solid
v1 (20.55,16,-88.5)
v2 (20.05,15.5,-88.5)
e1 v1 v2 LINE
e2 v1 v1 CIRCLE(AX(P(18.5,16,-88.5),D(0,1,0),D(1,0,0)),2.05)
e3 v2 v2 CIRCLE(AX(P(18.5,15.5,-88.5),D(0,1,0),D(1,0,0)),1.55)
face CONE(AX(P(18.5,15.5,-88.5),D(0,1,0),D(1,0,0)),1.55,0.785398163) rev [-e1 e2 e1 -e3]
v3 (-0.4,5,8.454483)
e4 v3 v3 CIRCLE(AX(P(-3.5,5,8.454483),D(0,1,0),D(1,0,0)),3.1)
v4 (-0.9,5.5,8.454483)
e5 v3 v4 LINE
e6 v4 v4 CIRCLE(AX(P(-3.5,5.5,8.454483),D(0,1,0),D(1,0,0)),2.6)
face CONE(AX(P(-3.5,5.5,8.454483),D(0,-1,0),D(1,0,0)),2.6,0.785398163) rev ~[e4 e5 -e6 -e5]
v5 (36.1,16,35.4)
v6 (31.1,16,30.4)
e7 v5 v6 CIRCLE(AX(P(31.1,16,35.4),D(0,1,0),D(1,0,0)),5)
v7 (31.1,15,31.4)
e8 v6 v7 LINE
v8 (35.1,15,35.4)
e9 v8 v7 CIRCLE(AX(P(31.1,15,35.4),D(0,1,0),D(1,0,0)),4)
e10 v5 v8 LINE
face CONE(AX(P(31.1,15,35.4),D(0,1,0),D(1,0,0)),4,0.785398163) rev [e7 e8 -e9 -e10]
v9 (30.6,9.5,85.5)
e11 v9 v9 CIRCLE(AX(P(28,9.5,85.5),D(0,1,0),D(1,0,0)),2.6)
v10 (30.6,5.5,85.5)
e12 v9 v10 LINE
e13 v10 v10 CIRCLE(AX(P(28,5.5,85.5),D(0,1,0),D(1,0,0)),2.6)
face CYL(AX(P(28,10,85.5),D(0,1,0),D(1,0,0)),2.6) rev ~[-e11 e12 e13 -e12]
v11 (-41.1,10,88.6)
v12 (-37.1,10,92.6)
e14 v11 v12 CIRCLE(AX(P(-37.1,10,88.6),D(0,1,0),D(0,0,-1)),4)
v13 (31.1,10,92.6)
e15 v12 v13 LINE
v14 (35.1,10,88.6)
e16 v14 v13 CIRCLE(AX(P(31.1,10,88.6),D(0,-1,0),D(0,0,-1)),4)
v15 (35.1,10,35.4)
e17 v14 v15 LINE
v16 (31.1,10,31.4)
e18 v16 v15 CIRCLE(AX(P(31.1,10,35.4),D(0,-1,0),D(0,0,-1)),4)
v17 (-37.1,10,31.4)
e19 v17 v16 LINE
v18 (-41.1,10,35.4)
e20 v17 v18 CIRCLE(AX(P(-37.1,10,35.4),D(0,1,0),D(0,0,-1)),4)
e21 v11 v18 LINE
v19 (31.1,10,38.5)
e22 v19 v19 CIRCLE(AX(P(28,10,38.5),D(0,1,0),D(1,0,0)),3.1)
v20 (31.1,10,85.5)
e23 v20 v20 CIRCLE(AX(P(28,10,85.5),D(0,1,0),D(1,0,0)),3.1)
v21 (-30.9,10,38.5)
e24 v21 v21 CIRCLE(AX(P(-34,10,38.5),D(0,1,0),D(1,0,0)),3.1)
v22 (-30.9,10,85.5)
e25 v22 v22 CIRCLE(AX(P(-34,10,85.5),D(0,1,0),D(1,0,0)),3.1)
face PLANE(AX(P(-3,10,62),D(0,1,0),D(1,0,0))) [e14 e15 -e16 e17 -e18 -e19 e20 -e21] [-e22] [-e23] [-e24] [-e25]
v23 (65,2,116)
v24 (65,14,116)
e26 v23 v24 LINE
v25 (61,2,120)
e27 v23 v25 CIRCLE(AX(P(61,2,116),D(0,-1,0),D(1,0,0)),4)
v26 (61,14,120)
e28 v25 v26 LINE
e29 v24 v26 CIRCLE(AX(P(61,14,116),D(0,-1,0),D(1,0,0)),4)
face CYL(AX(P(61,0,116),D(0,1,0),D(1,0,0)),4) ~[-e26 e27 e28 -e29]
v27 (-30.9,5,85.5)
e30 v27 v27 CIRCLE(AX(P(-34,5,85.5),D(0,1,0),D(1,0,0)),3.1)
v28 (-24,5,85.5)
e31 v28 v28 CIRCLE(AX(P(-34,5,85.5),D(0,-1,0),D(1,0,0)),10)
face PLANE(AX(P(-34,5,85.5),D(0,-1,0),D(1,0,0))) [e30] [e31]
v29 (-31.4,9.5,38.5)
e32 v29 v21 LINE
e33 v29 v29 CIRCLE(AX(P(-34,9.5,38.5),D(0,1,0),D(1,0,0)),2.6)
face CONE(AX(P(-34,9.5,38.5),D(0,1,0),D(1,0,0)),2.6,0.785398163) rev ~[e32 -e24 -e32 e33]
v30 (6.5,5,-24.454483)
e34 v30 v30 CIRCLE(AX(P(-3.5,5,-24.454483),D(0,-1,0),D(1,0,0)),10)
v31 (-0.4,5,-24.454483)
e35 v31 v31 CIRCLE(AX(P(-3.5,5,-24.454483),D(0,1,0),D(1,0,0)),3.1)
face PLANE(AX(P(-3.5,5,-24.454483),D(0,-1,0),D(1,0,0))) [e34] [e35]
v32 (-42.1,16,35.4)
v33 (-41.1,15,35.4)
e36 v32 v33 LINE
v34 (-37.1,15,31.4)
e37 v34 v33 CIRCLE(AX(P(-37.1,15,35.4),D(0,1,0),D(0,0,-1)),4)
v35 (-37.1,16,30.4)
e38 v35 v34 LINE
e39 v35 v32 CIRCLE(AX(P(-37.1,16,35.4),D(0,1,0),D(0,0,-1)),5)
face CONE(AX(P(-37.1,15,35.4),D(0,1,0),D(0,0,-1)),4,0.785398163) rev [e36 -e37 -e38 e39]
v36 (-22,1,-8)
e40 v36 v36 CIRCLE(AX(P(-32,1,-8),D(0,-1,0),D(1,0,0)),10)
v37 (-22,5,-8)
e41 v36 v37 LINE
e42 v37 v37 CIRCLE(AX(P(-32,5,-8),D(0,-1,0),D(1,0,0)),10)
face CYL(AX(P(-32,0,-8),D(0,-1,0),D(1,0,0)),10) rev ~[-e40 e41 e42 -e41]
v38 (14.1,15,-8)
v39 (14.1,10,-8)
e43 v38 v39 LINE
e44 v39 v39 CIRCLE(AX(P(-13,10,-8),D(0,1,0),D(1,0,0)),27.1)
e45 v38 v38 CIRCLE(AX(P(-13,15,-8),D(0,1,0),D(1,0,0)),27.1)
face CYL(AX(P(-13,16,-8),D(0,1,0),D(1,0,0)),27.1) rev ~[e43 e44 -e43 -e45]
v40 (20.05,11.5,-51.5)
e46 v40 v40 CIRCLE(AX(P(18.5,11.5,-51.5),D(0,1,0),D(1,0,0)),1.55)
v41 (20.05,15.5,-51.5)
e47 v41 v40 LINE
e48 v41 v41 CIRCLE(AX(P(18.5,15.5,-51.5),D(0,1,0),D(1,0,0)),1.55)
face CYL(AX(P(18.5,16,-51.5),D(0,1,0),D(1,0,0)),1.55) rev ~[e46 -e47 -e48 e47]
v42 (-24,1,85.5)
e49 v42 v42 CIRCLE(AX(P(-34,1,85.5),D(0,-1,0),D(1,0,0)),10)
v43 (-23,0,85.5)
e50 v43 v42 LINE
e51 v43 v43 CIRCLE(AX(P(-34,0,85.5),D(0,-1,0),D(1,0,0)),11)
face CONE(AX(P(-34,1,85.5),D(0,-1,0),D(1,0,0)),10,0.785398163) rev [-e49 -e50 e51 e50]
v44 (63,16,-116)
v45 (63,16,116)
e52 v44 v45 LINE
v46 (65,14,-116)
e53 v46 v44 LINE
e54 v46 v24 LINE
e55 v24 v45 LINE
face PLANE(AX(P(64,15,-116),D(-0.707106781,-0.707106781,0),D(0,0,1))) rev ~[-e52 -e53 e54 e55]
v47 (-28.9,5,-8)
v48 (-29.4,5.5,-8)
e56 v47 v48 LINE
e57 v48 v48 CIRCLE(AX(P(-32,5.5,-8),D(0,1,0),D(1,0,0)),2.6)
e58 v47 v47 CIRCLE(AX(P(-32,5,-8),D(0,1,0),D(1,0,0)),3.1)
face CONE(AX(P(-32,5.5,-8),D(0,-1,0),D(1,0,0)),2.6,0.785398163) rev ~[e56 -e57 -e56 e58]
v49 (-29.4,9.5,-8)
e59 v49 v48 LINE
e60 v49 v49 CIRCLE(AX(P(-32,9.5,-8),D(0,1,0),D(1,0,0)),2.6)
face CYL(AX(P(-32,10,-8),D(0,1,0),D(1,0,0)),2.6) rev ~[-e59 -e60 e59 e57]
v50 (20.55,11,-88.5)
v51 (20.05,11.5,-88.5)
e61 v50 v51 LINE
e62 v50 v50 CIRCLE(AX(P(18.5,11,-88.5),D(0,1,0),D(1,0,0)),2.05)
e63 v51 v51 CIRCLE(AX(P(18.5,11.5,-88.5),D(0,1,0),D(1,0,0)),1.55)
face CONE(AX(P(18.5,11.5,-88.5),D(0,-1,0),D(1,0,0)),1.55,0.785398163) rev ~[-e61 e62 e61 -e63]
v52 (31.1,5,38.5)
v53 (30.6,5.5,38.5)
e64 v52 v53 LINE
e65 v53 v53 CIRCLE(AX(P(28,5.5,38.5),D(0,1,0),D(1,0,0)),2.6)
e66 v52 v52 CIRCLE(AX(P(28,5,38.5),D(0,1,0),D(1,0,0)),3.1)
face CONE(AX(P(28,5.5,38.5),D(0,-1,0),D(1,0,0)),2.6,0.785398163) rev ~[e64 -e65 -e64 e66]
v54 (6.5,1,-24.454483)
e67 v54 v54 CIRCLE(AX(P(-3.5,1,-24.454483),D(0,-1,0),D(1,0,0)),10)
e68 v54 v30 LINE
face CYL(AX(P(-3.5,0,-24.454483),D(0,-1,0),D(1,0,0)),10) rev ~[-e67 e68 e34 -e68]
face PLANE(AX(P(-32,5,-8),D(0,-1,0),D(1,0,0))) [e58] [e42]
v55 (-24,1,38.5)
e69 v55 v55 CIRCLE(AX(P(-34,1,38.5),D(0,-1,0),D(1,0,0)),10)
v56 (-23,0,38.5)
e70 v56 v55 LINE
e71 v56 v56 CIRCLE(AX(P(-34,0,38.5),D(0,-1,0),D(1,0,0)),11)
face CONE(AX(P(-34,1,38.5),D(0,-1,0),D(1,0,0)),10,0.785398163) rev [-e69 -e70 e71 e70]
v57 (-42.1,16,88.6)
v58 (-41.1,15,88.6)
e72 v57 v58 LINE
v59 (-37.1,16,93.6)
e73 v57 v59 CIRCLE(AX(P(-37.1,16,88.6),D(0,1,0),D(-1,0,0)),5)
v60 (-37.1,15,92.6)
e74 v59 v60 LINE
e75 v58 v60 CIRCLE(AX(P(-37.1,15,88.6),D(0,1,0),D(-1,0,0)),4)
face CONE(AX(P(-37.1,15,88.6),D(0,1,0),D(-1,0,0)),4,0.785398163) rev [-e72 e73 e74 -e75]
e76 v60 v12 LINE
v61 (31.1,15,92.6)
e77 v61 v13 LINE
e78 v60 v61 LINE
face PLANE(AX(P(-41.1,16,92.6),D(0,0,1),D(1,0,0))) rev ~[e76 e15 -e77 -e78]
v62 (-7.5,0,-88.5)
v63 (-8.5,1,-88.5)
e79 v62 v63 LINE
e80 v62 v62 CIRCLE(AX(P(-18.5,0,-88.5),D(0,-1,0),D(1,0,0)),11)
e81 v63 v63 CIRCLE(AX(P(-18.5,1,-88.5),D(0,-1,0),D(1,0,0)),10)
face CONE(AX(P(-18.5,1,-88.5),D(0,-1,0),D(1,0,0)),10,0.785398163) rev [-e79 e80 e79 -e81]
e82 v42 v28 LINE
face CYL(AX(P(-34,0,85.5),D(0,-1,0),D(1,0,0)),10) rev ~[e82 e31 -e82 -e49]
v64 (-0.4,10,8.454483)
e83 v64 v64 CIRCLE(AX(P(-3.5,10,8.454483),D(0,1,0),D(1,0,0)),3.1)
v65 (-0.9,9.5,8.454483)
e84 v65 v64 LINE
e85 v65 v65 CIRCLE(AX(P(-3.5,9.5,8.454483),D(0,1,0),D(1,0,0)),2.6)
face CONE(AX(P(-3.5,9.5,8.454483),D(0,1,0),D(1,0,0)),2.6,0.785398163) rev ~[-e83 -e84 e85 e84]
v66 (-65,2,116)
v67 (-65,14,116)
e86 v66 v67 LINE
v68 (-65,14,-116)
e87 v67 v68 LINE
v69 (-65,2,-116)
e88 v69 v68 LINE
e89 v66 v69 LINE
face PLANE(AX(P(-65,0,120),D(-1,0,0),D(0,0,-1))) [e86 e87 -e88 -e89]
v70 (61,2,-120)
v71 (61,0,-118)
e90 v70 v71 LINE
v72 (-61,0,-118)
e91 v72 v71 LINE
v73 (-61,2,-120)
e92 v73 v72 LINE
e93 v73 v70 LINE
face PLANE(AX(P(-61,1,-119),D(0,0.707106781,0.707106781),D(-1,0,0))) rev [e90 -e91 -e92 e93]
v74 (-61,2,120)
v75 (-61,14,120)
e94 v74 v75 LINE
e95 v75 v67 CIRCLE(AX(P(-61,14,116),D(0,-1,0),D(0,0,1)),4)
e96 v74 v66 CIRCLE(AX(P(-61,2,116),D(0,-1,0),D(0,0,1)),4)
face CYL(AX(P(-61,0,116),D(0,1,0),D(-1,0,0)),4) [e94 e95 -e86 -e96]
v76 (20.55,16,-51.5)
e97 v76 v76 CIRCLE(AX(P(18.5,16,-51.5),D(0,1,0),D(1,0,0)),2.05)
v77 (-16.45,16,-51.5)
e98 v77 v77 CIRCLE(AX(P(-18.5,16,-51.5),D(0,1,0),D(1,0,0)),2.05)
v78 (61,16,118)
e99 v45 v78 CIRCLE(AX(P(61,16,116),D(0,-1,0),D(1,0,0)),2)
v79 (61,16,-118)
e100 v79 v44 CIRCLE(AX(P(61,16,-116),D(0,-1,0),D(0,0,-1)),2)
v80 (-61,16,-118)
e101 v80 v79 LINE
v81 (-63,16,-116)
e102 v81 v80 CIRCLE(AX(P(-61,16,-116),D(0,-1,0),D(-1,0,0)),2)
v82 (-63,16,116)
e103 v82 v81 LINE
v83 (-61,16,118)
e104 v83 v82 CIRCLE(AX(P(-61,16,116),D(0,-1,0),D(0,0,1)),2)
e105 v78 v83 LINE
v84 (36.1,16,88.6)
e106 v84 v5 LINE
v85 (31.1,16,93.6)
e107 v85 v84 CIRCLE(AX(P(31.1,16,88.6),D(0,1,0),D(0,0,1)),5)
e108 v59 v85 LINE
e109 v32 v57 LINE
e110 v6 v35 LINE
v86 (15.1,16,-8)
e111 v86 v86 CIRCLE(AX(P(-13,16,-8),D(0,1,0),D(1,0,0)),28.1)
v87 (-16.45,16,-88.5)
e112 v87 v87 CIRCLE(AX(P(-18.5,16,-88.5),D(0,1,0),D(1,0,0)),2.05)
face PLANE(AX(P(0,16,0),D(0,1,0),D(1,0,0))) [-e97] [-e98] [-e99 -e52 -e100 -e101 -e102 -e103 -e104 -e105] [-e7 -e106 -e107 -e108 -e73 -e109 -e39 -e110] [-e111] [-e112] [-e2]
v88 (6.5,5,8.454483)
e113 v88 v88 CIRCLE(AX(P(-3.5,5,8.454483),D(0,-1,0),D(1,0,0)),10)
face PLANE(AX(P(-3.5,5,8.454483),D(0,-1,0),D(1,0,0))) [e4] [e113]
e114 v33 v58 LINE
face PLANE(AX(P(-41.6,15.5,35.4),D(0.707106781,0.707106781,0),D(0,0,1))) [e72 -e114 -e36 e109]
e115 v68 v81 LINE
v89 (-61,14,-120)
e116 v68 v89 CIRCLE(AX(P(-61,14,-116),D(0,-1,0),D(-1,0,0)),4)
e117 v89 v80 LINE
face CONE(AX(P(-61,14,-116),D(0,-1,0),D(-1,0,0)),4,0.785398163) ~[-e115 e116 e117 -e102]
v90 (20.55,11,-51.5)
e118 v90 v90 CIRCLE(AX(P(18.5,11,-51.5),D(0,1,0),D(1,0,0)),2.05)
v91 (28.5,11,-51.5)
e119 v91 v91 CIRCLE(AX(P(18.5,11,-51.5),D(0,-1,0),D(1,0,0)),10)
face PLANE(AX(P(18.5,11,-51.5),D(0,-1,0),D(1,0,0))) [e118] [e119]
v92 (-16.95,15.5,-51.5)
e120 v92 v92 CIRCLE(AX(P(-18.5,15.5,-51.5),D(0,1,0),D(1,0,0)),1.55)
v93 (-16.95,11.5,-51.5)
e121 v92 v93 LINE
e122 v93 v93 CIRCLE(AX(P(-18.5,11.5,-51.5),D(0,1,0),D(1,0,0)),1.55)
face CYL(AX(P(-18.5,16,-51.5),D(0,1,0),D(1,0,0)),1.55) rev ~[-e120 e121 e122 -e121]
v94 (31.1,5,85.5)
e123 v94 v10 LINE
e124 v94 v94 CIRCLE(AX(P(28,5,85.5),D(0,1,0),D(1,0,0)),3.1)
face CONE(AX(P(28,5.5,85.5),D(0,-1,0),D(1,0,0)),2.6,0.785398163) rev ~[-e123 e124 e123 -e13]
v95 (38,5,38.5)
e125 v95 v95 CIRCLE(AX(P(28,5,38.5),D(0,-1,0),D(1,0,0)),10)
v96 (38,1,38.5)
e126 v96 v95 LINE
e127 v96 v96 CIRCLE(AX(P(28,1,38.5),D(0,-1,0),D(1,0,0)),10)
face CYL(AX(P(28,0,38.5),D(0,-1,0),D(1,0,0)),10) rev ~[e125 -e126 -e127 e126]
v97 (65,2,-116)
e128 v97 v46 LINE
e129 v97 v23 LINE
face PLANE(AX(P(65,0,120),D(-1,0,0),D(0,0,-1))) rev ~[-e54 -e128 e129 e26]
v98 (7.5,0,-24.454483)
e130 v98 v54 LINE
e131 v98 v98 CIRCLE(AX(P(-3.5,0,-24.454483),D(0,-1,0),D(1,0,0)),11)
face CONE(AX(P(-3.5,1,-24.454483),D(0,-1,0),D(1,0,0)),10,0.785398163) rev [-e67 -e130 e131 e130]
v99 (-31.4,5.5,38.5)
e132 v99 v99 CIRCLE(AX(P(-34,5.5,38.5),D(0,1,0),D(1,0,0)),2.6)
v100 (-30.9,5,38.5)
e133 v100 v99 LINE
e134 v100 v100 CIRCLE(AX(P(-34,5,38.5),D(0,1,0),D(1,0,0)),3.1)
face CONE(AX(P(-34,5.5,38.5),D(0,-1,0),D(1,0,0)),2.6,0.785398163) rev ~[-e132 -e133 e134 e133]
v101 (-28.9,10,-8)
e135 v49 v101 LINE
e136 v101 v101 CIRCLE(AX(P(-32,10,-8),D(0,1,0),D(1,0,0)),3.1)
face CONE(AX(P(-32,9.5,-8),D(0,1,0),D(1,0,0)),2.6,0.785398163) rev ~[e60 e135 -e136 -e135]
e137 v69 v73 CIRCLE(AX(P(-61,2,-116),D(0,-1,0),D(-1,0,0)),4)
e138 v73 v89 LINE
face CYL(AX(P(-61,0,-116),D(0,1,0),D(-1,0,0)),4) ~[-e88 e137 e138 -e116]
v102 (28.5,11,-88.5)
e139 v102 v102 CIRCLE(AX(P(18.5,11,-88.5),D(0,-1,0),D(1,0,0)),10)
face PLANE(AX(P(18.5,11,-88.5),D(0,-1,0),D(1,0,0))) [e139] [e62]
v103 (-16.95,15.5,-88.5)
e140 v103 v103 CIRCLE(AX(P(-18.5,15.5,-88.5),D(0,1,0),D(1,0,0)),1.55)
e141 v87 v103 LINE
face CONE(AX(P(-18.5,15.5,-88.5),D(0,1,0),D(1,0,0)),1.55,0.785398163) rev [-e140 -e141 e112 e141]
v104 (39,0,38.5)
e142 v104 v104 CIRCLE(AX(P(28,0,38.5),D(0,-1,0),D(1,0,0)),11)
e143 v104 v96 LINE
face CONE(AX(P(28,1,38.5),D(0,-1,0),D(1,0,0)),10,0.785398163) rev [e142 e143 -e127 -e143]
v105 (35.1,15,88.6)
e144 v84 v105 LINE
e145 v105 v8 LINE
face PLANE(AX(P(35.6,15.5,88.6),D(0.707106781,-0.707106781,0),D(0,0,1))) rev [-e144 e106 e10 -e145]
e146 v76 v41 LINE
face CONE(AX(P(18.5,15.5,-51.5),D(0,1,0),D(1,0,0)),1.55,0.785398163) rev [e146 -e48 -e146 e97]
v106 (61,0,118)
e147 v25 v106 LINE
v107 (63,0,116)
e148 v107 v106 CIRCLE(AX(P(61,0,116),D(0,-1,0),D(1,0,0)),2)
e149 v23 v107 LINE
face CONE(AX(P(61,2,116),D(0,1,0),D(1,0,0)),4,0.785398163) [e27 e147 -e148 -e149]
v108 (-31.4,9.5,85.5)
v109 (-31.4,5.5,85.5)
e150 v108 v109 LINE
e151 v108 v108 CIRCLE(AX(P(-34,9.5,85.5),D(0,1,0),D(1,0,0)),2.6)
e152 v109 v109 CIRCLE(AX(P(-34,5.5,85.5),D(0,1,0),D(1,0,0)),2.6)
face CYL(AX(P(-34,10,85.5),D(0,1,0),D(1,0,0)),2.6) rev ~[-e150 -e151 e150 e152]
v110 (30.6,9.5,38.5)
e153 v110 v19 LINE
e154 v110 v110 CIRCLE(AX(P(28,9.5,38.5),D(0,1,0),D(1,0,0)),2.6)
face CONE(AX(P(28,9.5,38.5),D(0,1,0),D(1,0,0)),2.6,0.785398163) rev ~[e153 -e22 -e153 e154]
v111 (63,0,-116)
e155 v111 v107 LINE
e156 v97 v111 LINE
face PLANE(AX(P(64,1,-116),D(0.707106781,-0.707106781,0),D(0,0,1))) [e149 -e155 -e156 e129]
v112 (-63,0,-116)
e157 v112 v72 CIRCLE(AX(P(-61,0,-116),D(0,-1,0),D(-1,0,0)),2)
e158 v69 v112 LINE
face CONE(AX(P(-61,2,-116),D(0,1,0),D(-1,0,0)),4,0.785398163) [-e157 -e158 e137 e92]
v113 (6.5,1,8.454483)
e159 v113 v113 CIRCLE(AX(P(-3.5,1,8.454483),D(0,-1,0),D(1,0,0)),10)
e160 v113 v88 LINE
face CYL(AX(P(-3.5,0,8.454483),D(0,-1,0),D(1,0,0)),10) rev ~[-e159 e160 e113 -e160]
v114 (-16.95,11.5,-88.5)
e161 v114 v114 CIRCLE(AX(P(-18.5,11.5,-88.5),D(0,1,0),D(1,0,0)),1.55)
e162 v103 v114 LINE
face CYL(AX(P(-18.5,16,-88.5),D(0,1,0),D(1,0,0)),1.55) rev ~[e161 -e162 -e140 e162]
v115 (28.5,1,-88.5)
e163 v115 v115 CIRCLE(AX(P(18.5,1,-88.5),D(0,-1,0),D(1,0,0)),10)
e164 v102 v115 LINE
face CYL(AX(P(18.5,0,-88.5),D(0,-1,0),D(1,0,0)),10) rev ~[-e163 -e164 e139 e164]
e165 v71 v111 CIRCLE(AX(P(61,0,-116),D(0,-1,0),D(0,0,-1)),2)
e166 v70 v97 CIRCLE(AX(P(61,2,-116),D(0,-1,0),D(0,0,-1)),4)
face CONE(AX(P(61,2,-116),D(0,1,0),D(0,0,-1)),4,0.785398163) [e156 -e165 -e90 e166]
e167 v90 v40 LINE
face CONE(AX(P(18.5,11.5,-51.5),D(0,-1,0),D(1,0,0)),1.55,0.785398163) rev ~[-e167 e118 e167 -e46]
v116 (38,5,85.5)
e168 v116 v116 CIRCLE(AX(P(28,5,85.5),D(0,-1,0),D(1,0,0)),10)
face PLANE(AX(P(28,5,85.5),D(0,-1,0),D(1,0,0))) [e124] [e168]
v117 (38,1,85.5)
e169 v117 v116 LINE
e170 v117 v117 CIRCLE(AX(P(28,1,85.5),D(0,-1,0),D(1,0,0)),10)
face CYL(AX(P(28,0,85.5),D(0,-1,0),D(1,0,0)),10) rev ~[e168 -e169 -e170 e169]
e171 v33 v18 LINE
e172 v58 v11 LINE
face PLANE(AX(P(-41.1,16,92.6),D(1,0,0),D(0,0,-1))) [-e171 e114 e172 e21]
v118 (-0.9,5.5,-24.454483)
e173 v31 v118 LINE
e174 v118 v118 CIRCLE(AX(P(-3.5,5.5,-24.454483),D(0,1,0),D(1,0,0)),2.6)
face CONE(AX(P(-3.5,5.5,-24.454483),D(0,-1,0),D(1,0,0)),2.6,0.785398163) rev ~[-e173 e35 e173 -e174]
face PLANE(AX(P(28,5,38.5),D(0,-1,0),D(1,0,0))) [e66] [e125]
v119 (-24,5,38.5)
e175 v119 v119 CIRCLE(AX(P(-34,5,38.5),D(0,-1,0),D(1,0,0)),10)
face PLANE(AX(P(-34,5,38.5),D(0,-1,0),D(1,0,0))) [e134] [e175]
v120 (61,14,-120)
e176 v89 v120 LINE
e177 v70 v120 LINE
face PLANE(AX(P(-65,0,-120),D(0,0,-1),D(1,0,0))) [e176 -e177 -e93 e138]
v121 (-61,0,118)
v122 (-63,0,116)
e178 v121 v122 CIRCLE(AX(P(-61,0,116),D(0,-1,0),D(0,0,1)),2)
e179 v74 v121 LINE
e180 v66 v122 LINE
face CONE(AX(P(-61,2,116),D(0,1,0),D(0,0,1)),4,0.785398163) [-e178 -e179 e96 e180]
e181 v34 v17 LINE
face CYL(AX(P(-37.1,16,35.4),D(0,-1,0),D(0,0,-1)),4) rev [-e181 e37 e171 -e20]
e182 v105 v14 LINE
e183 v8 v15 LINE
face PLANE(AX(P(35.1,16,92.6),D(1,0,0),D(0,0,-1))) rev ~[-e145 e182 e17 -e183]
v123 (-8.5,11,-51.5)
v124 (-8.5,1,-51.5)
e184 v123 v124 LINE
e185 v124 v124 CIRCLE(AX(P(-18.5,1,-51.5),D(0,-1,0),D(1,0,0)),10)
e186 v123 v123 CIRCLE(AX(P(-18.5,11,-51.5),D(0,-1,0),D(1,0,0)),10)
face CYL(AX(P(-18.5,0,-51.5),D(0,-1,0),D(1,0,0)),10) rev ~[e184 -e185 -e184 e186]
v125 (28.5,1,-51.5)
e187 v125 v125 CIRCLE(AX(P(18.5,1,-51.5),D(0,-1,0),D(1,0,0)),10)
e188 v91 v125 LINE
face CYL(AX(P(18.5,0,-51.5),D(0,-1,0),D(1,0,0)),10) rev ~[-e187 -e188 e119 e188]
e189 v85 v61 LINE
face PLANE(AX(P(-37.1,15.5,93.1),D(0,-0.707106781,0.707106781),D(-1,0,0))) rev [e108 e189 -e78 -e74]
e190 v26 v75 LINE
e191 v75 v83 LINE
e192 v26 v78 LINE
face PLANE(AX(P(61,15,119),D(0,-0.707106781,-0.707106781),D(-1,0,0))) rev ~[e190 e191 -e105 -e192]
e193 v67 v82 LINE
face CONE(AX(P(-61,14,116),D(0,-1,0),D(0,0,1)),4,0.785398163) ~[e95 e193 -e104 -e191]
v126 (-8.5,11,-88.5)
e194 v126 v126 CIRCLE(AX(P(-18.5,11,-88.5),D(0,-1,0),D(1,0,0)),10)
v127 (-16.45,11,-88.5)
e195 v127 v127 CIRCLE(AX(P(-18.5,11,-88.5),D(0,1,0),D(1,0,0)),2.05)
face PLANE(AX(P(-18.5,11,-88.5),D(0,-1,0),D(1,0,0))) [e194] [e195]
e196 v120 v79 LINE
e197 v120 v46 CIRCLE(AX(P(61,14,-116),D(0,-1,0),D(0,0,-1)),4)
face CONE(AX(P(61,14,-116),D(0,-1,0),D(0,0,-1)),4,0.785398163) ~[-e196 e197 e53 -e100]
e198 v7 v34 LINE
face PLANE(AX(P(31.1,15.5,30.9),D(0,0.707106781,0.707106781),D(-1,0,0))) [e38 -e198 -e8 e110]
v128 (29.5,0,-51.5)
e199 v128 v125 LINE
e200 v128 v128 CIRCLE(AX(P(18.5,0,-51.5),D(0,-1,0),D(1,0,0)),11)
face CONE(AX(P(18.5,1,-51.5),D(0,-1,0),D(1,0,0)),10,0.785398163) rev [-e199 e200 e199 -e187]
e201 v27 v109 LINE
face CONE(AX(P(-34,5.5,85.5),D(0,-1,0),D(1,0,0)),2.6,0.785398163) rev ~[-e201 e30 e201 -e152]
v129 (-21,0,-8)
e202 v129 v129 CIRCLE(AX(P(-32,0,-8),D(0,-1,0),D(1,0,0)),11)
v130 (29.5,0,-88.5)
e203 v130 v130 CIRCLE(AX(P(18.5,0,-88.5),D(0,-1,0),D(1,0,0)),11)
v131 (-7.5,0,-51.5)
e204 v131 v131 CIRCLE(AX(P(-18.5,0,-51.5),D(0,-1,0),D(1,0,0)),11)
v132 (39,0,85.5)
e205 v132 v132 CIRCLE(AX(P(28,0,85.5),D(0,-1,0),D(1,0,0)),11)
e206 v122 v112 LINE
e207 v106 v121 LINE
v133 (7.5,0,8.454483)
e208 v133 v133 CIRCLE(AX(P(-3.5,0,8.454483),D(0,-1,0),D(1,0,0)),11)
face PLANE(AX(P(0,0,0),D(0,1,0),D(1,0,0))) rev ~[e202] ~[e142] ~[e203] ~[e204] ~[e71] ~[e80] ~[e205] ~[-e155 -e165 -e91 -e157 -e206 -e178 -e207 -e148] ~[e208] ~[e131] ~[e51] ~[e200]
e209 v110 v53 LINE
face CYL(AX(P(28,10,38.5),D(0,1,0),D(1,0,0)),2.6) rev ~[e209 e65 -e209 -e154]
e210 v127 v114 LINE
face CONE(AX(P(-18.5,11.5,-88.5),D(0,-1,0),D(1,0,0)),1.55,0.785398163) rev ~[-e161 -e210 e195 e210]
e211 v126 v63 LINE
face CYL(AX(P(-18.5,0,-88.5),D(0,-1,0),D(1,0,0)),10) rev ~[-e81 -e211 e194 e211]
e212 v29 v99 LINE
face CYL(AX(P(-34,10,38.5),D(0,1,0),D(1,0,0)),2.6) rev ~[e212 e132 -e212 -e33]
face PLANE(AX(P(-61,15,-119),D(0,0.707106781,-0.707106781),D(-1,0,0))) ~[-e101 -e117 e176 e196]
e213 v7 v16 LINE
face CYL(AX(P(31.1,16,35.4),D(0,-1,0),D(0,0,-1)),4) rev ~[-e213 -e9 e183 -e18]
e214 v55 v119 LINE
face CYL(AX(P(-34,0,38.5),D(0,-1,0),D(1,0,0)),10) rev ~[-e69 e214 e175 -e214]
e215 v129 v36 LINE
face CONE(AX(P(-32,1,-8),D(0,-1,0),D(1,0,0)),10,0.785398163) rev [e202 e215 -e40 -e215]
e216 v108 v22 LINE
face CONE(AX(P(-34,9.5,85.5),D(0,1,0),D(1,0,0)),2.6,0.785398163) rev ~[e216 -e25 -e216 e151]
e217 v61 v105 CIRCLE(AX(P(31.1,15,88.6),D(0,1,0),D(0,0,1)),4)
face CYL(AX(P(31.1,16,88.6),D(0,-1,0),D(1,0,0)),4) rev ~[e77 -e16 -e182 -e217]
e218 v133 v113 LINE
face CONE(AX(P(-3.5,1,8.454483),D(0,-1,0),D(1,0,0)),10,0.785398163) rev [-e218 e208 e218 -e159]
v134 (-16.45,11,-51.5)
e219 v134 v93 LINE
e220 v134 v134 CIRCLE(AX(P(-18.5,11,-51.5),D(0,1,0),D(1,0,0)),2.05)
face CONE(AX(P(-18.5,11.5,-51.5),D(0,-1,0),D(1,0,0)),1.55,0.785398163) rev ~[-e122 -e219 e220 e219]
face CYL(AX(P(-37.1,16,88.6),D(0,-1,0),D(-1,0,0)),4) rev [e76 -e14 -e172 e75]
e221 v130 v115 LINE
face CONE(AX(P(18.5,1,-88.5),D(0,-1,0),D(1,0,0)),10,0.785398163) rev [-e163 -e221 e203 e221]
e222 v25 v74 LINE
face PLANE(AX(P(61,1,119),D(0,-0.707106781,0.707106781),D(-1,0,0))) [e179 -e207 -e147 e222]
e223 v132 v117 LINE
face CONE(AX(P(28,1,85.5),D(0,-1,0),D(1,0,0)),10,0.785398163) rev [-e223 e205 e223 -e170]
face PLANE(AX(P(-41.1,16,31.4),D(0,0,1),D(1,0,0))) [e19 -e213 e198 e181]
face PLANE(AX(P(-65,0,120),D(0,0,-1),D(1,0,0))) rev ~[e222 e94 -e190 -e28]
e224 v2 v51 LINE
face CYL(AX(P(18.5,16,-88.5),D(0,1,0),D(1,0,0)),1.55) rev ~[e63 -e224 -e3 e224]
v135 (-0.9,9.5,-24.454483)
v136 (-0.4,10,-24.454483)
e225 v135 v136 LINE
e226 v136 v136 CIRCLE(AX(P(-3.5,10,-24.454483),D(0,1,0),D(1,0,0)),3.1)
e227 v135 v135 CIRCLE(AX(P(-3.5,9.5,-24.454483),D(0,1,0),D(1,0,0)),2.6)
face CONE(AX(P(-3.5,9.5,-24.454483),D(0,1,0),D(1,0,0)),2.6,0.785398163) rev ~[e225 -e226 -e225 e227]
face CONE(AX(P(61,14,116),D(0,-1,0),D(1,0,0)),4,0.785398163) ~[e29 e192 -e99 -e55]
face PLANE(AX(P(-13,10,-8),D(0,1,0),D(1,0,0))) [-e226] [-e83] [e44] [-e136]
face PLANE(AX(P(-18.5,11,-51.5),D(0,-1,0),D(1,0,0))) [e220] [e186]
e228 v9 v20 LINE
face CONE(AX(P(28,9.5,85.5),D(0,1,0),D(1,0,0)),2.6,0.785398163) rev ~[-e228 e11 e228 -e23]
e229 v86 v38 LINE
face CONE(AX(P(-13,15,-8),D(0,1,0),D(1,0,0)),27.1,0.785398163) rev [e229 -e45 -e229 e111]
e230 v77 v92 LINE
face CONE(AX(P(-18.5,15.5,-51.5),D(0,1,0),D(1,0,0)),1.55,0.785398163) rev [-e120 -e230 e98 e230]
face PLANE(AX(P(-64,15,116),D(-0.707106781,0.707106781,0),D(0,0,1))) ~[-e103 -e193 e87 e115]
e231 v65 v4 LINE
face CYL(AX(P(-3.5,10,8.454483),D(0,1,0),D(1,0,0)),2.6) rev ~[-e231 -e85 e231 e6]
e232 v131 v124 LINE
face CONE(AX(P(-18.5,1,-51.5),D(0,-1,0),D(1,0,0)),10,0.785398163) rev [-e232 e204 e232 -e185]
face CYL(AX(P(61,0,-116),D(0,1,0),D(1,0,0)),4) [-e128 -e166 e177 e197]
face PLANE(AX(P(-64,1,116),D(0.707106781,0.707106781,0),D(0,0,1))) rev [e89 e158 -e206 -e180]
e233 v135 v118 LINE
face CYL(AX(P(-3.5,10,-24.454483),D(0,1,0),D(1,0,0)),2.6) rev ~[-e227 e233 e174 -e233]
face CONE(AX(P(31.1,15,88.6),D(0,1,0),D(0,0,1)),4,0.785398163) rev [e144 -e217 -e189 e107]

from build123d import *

# Parameters (mm, degrees)
SKETCH1_W           = 130
SKETCH1_H           = 240
BOSS_EXTRUDE1_DEPTH = 16
SKETCH7_W           = 76.2
SKETCH7_H           = 61.2
CUT_EXTRUDE5_DEPTH  = 6
SKETCH2_R           = 2.6
CUT_EXTRUDE1_DEPTH  = 11
SKETCH8_R           = 27.1
CUT_EXTRUDE6_DEPTH  = 6
SKETCH9_R           = 2.6
CUT_EXTRUDE7_DEPTH  = 11
SKETCH5_R           = 1.55
CUT_EXTRUDE3_DEPTH  = 17
SKETCH4_R           = 10
CUT_EXTRUDE2_DEPTH  = 5
SKETCH11_R          = 10
CUT_EXTRUDE8_DEPTH  = 6
FILLET1_R           = 4
CHAMFER3_SIZE       = 2
CHAMFER1_SIZE       = 1
CHAMFER2_SIZE       = 0.5


with BuildPart() as part:
    # Sketch1 → Boss-Extrude1 (new body)
    with BuildSketch(Plane(origin=(0, 0, 0), x_dir=(1, 0, 0), z_dir=(0, 1, 0))):
        Rectangle(SKETCH1_W, SKETCH1_H)
    extrude(amount=BOSS_EXTRUDE1_DEPTH)

    # Sketch7 → Cut-Extrude5 (cut)
    with BuildSketch(Plane(origin=(0, 16, 0), x_dir=(1, 0, 0), z_dir=(0, 1, 0))):
        with Locations((-3, -62)):
            Rectangle(SKETCH7_W, SKETCH7_H)
    extrude(amount=-CUT_EXTRUDE5_DEPTH, mode=Mode.SUBTRACT)

    # Sketch2 → Cut-Extrude1 (cut, through all)
    with BuildSketch(Plane(origin=(0, 10, 0), x_dir=(1, 0, 0), z_dir=(0, 1, 0))):
        with Locations((-34, -85.5)):
            Circle(SKETCH2_R)
        with Locations((-34, -38.5)):
            Circle(SKETCH2_R)
        with Locations((28, -38.5)):
            Circle(SKETCH2_R)
        with Locations((28, -85.5)):
            Circle(SKETCH2_R)
    extrude(amount=-CUT_EXTRUDE1_DEPTH, mode=Mode.SUBTRACT)

    # Sketch8 → Cut-Extrude6 (cut)
    with BuildSketch(Plane(origin=(0, 16, 0), x_dir=(1, 0, 0), z_dir=(0, 1, 0))):
        with Locations((-13, 8)):
            Circle(SKETCH8_R)
    extrude(amount=-CUT_EXTRUDE6_DEPTH, mode=Mode.SUBTRACT)

    # Sketch9 → Cut-Extrude7 (cut, through all)
    with BuildSketch(Plane(origin=(0, 10, 0), x_dir=(1, 0, 0), z_dir=(0, 1, 0))):
        with Locations((-32, 8)):
            Circle(SKETCH9_R)
        with Locations((-3.5, 24.454482672)):
            Circle(SKETCH9_R)
        with Locations((-3.5, -8.454482672)):
            Circle(SKETCH9_R)
    extrude(amount=-CUT_EXTRUDE7_DEPTH, mode=Mode.SUBTRACT)

    # Sketch5 → Cut-Extrude3 (cut, through all)
    with BuildSketch(Plane(origin=(0, 16, 0), x_dir=(1, 0, 0), z_dir=(0, 1, 0))):
        with Locations((-18.5, 51.5)):
            Circle(SKETCH5_R)
        with Locations((-18.5, 88.5)):
            Circle(SKETCH5_R)
        with Locations((18.5, 88.5)):
            Circle(SKETCH5_R)
        with Locations((18.5, 51.5)):
            Circle(SKETCH5_R)
    extrude(amount=-CUT_EXTRUDE3_DEPTH, mode=Mode.SUBTRACT)

    # Sketch4 → Cut-Extrude2 (cut)
    with BuildSketch(Plane.XZ):
        with Locations((-34, 85.5)):
            Circle(SKETCH4_R)
        with Locations((28, 85.5)):
            Circle(SKETCH4_R)
        with Locations((28, 38.5)):
            Circle(SKETCH4_R)
        with Locations((-34, 38.5)):
            Circle(SKETCH4_R)
        with Locations((-32, -8)):
            Circle(SKETCH4_R)
        with Locations((-3.5, 8.454482672)):
            Circle(SKETCH4_R)
        with Locations((-3.5, -24.454482672)):
            Circle(SKETCH4_R)
        with Locations((-18.5, -51.5)):
            Circle(SKETCH4_R)
        with Locations((-18.5, -88.5)):
            Circle(SKETCH4_R)
        with Locations((18.5, -88.5)):
            Circle(SKETCH4_R)
        with Locations((18.5, -51.5)):
            Circle(SKETCH4_R)
    extrude(amount=-CUT_EXTRUDE2_DEPTH, mode=Mode.SUBTRACT)

    # Sketch11 → Cut-Extrude8 (cut)
    with BuildSketch(Plane.XZ.offset(-5)):
        with Locations((18.5, -88.5)):
            Circle(SKETCH11_R)
        with Locations((-18.5, -88.5)):
            Circle(SKETCH11_R)
        with Locations((-18.5, -51.5)):
            Circle(SKETCH11_R)
        with Locations((18.5, -51.5)):
            Circle(SKETCH11_R)
    extrude(amount=-CUT_EXTRUDE8_DEPTH, mode=Mode.SUBTRACT)

    # Fillet1
    fillet1_edges = [part.edges().sort_by_distance(p)[0] for p in [
        (35.1, 13, 31.4),
        (35.1, 13, 92.6),
        (-41.1, 13, 92.6),
        (-41.1, 13, 31.4),
        (-65, 8, -120),
        (65, 8, -120),
        (65, 8, 120),
        (-65, 8, 120),
    ]]
    fillet(fillet1_edges, radius=FILLET1_R)

    # Chamfer3
    chamfer3_edges = [part.edges().sort_by_distance(p)[0] for p in [
        (-65, 0, 0),
        (-65, 16, 0),
        (0, 0, -120),
        (65, 0, 0),
        (0, 0, 120),
        (63.828427125, 0, 118.828427125),
        (-63.828427125, 0, 118.828427125),
        (63.828427125, 0, -118.828427125),
        (-63.828427125, 0, -118.828427125),
        (0, 16, -120),
        (0, 16, 120),
        (65, 16, 0),
        (63.828427125, 16, 118.828427125),
        (-63.828427125, 16, 118.828427125),
        (63.828427125, 16, -118.828427125),
        (-63.828427125, 16, -118.828427125),
    ]]
    chamfer(chamfer3_edges, length=CHAMFER3_SIZE)

    # Chamfer1
    chamfer1_edges = [part.edges().sort_by_distance(p)[0] for p in [
        (-13.5, 0, -24.454482672),
        (-13.5, 0, 8.454482672),
        (-42, 0, -8),
        (-44, 0, 38.5),
        (18, 0, 38.5),
        (18, 0, 85.5),
        (8.5, 0, -88.5),
        (8.5, 0, -51.5),
        (-44, 0, 85.5),
        (35.1, 16, 62),
        (-3, 16, 92.6),
        (-41.1, 16, 62),
        (-3, 16, 31.4),
        (33.928427125, 16, 32.571572875),
        (33.928427125, 16, 91.428427125),
        (-39.928427125, 16, 91.428427125),
        (-39.928427125, 16, 32.571572875),
        (-40.1, 16, -8),
        (-28.5, 0, -88.5),
        (-28.5, 0, -51.5),
    ]]
    chamfer(chamfer1_edges, length=CHAMFER1_SIZE)

    # Chamfer2
    chamfer2_edges = [part.edges().sort_by_distance(p)[0] for p in [
        (-6.1, 5, -24.454482672),
        (-6.1, 5, 8.454482672),
        (-34.6, 5, -8),
        (-36.6, 5, 38.5),
        (25.4, 5, 38.5),
        (25.4, 5, 85.5),
        (-36.6, 5, 85.5),
        (16.95, 11, -51.5),
        (-20.05, 11, -51.5),
        (-20.05, 11, -88.5),
        (16.95, 11, -88.5),
        (25.4, 10, 85.5),
        (25.4, 10, 38.5),
        (-36.6, 10, 38.5),
        (-36.6, 10, 85.5),
        (-34.6, 10, -8),
        (-6.1, 10, -24.454482672),
        (-6.1, 10, 8.454482672),
        (16.95, 16, -51.5),
        (16.95, 16, -88.5),
        (-20.05, 16, -88.5),
        (-20.05, 16, -51.5),
    ]]
    chamfer(chamfer2_edges, length=CHAMFER2_SIZE)


solid = part.part
